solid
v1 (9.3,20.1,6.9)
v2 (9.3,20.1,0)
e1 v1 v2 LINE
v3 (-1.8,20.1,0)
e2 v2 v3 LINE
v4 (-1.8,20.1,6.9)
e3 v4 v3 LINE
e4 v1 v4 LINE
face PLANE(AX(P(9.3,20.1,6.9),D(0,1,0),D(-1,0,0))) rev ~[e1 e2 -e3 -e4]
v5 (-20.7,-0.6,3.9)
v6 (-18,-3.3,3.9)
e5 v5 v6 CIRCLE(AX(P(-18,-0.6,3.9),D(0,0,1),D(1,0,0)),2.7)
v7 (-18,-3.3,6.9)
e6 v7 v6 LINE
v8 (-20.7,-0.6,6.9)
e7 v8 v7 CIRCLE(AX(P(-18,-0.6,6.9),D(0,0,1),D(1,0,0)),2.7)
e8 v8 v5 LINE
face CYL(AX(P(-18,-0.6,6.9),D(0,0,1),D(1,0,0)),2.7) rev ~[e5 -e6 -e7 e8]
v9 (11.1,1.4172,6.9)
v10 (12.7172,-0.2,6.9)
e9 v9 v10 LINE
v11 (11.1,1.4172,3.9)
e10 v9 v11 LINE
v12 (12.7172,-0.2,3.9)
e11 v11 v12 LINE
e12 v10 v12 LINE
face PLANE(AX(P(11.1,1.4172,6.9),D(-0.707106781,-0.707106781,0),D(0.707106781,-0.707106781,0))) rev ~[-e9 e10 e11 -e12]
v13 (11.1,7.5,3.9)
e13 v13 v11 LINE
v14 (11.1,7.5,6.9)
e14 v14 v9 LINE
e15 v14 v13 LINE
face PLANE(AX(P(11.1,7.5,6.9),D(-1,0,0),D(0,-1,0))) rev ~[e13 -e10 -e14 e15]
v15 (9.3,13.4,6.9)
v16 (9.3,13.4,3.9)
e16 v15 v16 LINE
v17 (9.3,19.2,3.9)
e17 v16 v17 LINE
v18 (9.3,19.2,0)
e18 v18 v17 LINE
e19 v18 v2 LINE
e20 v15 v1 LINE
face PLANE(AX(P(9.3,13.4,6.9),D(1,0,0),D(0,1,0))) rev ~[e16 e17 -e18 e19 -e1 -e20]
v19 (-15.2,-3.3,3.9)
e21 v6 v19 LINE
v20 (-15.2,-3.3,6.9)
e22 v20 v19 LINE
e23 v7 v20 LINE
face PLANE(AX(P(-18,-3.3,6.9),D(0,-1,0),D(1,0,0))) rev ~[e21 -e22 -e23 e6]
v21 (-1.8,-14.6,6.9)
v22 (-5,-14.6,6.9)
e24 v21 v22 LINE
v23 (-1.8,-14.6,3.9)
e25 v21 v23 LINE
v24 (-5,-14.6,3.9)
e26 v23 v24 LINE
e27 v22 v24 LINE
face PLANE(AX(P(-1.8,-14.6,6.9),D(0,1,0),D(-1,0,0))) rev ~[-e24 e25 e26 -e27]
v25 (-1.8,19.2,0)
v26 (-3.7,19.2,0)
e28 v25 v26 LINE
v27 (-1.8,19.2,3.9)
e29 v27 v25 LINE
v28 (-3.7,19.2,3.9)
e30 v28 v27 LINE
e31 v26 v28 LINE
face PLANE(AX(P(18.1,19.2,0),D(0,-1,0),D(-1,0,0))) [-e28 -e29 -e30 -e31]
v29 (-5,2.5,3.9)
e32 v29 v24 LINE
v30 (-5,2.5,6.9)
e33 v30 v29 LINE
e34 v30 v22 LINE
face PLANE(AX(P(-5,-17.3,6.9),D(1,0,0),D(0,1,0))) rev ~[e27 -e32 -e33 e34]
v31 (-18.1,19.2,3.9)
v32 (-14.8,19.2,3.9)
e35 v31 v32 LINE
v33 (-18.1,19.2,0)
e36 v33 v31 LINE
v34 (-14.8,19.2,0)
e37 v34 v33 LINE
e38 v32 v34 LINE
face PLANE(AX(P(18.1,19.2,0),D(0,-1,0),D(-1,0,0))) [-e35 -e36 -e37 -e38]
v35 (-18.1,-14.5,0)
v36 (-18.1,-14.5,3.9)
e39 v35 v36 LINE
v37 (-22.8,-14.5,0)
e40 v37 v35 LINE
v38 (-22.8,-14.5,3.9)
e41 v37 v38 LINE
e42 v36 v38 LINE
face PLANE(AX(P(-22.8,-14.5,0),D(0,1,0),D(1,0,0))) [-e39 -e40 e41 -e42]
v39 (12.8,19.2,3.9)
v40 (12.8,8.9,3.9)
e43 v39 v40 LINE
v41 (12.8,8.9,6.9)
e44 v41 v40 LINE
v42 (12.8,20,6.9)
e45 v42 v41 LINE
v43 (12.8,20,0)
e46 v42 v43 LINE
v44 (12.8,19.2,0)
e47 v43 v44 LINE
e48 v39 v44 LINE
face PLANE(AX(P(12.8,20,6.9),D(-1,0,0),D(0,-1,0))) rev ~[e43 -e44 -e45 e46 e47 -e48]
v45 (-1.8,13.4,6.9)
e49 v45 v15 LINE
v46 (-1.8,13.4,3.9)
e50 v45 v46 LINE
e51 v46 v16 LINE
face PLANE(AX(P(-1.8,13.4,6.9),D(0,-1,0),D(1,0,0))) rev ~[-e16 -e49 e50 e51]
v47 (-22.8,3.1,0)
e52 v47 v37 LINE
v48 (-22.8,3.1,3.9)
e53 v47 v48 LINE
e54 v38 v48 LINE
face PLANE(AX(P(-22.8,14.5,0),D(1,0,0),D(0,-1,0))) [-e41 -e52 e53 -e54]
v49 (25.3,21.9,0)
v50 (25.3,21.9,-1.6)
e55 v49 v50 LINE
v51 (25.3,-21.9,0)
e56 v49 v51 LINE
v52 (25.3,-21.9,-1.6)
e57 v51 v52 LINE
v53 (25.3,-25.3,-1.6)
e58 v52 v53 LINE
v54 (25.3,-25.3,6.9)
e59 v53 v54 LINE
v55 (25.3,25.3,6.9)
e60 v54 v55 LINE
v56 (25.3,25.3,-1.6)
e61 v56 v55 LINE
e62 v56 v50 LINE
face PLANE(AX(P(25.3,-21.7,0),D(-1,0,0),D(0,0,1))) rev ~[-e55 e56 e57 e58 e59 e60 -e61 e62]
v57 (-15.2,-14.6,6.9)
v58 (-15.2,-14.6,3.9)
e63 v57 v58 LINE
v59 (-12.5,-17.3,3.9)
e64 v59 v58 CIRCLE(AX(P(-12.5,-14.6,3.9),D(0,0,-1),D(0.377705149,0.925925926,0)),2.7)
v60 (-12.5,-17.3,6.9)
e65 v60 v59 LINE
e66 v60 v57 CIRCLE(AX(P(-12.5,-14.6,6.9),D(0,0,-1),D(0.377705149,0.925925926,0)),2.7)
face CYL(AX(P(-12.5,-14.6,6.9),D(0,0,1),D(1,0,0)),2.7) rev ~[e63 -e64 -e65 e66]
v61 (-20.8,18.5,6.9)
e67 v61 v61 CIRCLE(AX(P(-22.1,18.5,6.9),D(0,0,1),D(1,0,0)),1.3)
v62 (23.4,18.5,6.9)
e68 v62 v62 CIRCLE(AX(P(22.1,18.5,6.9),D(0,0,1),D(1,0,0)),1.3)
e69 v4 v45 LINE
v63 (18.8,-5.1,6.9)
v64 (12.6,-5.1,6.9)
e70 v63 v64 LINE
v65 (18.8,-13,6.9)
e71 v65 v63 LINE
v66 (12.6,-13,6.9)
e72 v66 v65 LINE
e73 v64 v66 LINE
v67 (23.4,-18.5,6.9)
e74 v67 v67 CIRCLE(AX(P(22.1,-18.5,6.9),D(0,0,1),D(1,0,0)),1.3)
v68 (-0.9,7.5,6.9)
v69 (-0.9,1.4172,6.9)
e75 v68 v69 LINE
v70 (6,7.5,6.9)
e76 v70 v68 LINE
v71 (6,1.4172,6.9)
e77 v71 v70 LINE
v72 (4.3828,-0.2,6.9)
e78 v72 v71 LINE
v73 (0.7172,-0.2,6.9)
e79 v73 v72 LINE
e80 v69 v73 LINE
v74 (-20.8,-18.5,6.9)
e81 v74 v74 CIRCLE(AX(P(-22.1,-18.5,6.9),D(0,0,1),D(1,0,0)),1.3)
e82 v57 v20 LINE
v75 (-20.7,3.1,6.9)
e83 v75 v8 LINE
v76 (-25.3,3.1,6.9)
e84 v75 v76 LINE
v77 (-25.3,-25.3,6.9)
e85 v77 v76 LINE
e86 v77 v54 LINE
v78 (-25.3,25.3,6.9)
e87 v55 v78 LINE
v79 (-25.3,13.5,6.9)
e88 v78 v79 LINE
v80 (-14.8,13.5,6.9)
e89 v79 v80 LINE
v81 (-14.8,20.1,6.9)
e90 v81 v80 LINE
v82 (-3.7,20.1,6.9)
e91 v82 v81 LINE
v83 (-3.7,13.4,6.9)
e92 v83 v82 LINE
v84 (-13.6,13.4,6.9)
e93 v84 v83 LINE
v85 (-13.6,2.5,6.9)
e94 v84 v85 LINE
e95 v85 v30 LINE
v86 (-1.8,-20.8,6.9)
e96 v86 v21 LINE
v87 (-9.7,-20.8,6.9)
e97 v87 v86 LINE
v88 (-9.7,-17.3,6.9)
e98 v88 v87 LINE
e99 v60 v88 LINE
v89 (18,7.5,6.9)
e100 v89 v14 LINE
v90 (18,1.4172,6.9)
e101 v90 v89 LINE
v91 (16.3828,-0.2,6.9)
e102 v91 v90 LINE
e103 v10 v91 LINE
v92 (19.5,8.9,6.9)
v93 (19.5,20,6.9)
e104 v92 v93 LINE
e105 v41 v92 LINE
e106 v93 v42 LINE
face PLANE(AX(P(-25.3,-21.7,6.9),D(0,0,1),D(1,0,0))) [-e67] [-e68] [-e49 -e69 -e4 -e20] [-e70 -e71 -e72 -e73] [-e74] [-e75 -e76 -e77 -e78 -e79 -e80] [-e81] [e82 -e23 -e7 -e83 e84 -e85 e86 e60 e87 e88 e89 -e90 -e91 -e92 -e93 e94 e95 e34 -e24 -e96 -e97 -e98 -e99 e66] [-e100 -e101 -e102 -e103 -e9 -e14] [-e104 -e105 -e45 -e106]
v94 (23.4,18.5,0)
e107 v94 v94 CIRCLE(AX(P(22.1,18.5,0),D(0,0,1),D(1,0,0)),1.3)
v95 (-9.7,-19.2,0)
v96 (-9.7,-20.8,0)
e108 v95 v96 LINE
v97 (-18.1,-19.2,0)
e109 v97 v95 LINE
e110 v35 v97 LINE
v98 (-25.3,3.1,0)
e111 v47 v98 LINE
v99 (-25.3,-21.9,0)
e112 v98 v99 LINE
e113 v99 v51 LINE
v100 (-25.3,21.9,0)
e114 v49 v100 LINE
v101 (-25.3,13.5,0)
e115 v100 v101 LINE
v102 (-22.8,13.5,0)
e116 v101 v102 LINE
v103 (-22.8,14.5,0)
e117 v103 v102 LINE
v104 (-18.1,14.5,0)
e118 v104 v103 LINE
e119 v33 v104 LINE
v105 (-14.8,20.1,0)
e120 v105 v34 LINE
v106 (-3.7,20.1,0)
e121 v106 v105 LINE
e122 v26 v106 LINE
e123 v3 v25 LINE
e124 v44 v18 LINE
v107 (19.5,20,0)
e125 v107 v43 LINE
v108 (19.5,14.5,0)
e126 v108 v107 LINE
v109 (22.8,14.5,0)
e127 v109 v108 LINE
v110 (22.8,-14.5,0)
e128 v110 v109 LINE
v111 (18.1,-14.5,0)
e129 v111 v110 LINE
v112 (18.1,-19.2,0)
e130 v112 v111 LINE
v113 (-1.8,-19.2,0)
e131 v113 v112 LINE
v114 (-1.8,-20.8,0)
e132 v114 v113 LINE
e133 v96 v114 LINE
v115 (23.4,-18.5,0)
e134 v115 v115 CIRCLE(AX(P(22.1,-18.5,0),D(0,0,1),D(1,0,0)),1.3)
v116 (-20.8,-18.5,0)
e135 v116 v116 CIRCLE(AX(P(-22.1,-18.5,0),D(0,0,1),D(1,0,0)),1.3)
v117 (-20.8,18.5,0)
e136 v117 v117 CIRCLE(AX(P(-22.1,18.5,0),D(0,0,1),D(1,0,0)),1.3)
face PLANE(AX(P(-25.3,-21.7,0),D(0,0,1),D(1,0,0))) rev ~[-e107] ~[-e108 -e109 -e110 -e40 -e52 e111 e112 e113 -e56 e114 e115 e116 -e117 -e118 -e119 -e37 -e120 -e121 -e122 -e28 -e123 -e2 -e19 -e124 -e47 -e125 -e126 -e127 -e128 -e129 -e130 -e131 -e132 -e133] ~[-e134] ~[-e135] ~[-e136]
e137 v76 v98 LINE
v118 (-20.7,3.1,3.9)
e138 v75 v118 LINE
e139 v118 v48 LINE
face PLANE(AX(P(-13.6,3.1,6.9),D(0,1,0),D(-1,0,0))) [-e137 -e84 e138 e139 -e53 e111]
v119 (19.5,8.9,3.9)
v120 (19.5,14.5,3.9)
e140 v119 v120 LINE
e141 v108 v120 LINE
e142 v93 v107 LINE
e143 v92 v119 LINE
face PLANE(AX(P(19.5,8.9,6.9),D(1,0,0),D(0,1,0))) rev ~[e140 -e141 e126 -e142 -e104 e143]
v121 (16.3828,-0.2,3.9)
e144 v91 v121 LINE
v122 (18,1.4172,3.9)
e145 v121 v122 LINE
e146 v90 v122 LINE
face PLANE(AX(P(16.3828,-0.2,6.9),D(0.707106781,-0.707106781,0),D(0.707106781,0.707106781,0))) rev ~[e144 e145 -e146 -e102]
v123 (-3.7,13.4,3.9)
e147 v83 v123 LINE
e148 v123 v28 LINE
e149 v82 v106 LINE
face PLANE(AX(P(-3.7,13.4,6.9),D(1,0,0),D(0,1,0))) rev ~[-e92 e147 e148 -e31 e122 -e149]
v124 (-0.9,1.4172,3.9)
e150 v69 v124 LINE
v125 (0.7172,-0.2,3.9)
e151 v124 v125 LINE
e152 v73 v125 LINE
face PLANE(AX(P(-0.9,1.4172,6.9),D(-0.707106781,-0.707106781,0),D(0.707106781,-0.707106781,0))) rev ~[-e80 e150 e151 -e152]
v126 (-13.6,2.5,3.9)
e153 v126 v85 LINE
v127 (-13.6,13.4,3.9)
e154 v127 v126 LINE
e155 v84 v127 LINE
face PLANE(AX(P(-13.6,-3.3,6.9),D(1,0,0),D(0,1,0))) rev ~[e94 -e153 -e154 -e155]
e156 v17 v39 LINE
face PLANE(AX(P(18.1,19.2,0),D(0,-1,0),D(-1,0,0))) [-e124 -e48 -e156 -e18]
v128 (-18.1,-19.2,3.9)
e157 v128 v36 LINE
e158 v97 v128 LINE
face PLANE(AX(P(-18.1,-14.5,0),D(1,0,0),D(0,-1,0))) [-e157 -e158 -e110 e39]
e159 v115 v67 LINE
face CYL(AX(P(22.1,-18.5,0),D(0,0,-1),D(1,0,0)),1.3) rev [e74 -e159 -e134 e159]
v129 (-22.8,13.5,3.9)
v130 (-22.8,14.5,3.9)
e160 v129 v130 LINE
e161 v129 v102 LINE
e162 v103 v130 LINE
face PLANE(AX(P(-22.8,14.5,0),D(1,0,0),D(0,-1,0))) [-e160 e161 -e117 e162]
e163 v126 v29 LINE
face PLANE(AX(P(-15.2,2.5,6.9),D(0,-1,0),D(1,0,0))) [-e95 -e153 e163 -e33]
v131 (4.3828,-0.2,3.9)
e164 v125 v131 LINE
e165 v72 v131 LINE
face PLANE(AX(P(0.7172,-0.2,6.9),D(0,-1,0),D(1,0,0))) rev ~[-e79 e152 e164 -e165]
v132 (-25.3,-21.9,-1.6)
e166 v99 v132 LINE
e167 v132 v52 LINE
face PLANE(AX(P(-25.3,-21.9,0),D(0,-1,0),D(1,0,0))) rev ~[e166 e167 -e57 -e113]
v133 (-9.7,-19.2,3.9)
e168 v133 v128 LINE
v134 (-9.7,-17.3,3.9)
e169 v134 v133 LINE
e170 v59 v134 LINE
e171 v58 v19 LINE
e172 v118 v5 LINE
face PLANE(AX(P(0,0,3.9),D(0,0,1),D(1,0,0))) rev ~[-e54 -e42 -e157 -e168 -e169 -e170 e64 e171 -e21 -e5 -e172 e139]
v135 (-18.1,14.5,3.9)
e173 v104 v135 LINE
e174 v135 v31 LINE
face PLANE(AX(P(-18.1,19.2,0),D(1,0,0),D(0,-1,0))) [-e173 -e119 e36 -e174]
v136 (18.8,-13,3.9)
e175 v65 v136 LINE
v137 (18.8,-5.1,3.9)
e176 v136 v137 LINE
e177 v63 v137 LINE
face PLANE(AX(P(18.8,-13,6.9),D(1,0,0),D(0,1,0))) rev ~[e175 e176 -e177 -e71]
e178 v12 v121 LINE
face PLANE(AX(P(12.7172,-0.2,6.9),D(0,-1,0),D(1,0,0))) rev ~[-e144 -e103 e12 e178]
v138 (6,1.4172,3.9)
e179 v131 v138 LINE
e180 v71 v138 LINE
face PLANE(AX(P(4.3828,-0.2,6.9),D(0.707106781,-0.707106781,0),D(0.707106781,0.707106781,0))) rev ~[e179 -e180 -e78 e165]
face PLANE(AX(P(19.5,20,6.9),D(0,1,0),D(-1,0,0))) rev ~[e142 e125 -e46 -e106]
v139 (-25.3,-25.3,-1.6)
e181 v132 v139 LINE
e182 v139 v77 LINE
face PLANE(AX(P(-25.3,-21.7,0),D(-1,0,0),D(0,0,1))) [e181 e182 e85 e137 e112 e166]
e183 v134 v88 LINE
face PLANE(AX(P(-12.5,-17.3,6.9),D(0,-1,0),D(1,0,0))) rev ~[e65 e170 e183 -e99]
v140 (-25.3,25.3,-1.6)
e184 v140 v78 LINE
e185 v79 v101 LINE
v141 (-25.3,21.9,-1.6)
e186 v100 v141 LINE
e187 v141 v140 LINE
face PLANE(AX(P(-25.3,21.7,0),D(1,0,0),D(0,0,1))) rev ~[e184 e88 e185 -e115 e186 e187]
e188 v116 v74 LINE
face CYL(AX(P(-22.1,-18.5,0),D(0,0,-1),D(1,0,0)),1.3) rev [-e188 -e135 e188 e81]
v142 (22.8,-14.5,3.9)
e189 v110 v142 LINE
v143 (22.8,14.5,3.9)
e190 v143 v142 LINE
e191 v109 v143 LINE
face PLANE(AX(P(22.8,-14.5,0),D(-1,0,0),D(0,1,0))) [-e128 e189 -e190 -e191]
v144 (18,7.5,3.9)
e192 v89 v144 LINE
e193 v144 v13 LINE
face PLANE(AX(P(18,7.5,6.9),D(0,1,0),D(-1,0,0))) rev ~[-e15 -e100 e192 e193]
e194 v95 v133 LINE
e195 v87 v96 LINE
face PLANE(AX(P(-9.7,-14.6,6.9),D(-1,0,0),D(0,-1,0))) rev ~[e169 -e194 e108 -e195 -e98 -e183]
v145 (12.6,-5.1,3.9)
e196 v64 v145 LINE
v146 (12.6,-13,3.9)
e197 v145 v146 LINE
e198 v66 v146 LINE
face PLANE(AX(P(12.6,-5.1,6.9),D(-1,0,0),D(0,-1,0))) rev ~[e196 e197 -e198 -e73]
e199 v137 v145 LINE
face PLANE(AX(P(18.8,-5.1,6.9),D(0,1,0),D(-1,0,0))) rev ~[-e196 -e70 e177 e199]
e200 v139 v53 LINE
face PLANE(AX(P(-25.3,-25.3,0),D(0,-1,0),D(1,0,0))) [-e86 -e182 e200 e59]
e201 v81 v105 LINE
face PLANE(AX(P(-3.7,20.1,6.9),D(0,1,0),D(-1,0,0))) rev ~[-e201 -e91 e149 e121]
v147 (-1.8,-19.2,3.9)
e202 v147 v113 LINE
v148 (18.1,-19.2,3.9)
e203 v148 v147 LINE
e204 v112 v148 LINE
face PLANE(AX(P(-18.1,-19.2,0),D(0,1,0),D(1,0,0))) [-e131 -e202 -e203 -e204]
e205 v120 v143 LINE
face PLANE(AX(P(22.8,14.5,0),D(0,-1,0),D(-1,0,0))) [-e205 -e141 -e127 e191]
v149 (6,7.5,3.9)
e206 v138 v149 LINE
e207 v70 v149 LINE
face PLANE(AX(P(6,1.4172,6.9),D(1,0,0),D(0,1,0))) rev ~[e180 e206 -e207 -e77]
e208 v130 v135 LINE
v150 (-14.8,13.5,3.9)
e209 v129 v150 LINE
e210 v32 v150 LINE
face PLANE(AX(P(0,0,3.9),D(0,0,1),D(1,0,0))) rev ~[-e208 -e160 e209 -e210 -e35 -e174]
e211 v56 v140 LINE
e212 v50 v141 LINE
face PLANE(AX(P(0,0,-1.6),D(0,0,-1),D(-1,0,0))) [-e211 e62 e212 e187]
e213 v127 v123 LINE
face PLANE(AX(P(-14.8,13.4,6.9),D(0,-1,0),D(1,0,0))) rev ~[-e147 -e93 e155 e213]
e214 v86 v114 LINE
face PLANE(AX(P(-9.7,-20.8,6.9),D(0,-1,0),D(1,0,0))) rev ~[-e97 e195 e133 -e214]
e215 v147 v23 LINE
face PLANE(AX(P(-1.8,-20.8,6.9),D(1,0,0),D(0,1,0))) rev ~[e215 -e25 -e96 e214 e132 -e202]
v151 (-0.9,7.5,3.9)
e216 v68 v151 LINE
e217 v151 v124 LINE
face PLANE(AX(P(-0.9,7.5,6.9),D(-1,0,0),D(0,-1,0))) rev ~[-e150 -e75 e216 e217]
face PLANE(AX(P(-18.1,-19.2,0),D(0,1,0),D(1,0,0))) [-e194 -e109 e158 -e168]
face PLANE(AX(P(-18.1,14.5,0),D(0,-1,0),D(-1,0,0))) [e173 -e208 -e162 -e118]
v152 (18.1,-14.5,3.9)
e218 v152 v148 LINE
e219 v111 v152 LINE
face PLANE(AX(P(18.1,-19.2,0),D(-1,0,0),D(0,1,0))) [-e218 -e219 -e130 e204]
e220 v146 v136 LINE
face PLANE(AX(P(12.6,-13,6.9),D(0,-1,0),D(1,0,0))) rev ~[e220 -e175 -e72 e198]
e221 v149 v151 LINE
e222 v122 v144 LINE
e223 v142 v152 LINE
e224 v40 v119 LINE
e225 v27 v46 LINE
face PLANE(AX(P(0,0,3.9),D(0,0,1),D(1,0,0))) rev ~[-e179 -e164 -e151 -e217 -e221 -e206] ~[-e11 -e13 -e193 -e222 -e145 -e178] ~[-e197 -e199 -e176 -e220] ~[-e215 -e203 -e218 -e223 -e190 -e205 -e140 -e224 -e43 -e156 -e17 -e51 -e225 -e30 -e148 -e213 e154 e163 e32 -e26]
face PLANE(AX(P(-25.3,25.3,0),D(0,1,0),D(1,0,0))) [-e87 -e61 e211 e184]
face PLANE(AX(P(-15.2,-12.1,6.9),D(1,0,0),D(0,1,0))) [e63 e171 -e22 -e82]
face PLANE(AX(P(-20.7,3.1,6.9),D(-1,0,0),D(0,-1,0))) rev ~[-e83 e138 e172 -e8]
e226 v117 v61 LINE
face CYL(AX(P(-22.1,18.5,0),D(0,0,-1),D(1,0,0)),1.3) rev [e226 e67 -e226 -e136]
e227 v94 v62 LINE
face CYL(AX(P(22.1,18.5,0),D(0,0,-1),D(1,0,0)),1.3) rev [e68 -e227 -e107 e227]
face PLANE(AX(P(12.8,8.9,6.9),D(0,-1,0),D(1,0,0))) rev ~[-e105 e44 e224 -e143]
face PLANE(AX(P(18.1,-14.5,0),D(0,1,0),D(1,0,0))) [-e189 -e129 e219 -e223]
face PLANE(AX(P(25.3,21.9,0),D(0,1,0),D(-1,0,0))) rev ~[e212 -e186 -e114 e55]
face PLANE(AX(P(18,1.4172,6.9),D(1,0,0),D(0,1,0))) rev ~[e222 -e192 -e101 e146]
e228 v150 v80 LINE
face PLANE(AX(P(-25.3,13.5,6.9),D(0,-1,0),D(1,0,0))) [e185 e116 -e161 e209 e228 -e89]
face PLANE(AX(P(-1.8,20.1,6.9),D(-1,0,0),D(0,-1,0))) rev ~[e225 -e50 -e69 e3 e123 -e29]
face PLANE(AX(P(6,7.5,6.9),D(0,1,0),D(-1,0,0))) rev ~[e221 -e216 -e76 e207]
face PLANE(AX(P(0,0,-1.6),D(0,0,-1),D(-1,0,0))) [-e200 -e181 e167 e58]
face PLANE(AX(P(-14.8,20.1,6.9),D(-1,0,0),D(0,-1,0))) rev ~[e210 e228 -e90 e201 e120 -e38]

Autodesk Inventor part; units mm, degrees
ref_plane "YZ Plane" through (0, 0, 0) normal (1, 0, 0) x (0, 1, 0)
ref_plane "XZ Plane" through (0, 0, 0) normal (0, 1, 0) x (-1, 0, 0)
ref_plane "XY Plane" through (0, 0, 0) normal (0, 0, 1) x (1, 0, 0)
sketch "スケッチ1" plane through (0, 0, 0) normal (0, 0, 1) x (1, 0, 0)
  line L0 (-25.3, 21.7) -> (25.3, 21.7)
  line L1 (25.3, 21.7) -> (25.3, -21.7)
  line L2 (25.3, -21.7) -> (-25.3, -21.7)
  line L3 (-25.3, -21.7) -> (-25.3, 21.7)
  circle A0 centre (-22.1, 18.5) radius 1.3
  circle A1 centre (22.1, 18.5) radius 1.3
  circle A2 centre (22.1, -18.5) radius 1.3
  circle A3 centre (-22.1, -18.5) radius 1.3
  line L4 (-18.1, 19.2) -> (-18.1, 14.5)
  line L5 (-18.1, 14.5) -> (-22.8, 14.5)
  line L6 (-22.8, 14.5) -> (-22.8, -14.5)
  line L7 (-22.8, -14.5) -> (-18.1, -14.5)
  line L8 (-18.1, -14.5) -> (-18.1, -19.2)
  line L9 (-18.1, -19.2) -> (18.1, -19.2)
  line L10 (18.1, -19.2) -> (18.1, -14.5)
  line L11 (18.1, -14.5) -> (22.8, -14.5)
  line L12 (22.8, -14.5) -> (22.8, 14.5)
  line L13 (22.8, 14.5) -> (18.1, 14.5)
  line L14 (18.1, 14.5) -> (18.1, 19.2)
  line L15 (18.1, 19.2) -> (-18.1, 19.2)
  point P0 (0, 0)
  point P1 (0, 21.7)
  point P2 (-25.3, 0)
  dimension "d0" = 50.6
  dimension "d1" = 43.4
  dimension "d2" = 2.6
  dimension "d3" = 44.2
  dimension "d4" = 37
  dimension "d5" = 22.1
  dimension "d6" = 18.5
  dimension "d7" = 2.5
  dimension "d8" = 2.5
  dimension "d9" = 2.5
  dimension "d10" = 2.5
  dimension "d11" = 4
  dimension "d12" = 4
  dimension "d13" = 4
  dimension "d14" = 4
  dimension "d15" = 4
extrude "押し出し1" add sketch "スケッチ1" along normal blind 6.9
sketch "スケッチ4" plane through (0, 0, 6.9) normal (0, 0, 1) x (1, 0, 0)
  line L0 (-18.1, 14.5) -> (-18.1, 19.2) projected
  line L1 (-18.1, 19.2) -> (18.1, 19.2) projected
  line L2 (-22.8, 14.5) -> (-18.1, 14.5) projected
  line L3 (-22.8, -14.5) -> (-22.8, 14.5) projected
  line L4 (-18.1, -14.5) -> (-22.8, -14.5) projected
  line L5 (-18.1, -19.2) -> (-18.1, -14.5) projected
  line L6 (18.1, -19.2) -> (-18.1, -19.2) projected
  line L7 (18.1, -14.5) -> (18.1, -19.2) projected
  line L8 (22.8, -14.5) -> (18.1, -14.5) projected
  line L9 (22.8, 14.5) -> (22.8, -14.5) projected
  line L10 (18.1, 14.5) -> (22.8, 14.5) projected
  line L11 (18.1, 19.2) -> (18.1, 14.5) projected
  point P0 (0, 0)
extrude "押し出し4" add sketch "スケッチ4" against normal blind 3
sketch "スケッチ3" plane through (0, 0, 6.9) normal (0, 0, 1) x (1, 0, 0)
  line L0 (-14.6, 19.9) -> (-3.9, 19.9) construction
  line L1 (-3.9, 19.9) -> (-3.9, 13.6) construction
  line L2 (-3.9, 13.6) -> (-14.6, 13.6) construction
  line L3 (-14.6, 13.6) -> (-14.6, 19.9) construction
  line L4 (-1.6, 19.9) -> (9.1, 19.9) construction
  line L5 (9.1, 19.9) -> (9.1, 13.6) construction
  line L6 (9.1, 13.6) -> (-1.6, 13.6) construction
  line L7 (-1.6, 13.6) -> (-1.6, 19.9) construction
  line L8 (13, 19.8) -> (19.3, 19.8) construction
  line L9 (19.3, 19.8) -> (19.3, 9.1) construction
  line L10 (19.3, 9.1) -> (13, 9.1) construction
  line L11 (13, 9.1) -> (13, 19.8) construction
  line L12 (25.3, 21.7) -> (-25.3, 21.7) construction
  line L13 (25.3, -21.7) -> (25.3, 21.7) construction
  line L14 (-14.8, 13.4) -> (-3.7, 13.4)
  line L15 (-3.7, 13.4) -> (-3.7, 20.1)
  line L16 (-3.7, 20.1) -> (-14.8, 20.1)
  line L17 (-14.8, 20.1) -> (-14.8, 13.4)
  line L18 (-1.8, 13.4) -> (9.3, 13.4)
  line L19 (9.3, 13.4) -> (9.3, 20.1)
  line L20 (9.3, 20.1) -> (-1.8, 20.1)
  line L21 (-1.8, 20.1) -> (-1.8, 13.4)
  line L22 (12.8, 8.9) -> (19.5, 8.9)
  line L23 (19.5, 8.9) -> (19.5, 20)
  line L24 (19.5, 20) -> (12.8, 20)
  line L25 (12.8, 20) -> (12.8, 8.9)
  point P0 (0, 0)
  dimension "d20" = 6.3
  dimension "d21" = 10.7
  dimension "d23" = 6
  dimension "d24" = 1.8
  dimension "d25" = 26.9
  dimension "d26" = 39.9
  dimension "d27" = 12.6
  dimension "d28" = 0.2
  dimension "d29" = 0.2
  dimension "d30" = 0.2
extrude "押し出し3" cut sketch "スケッチ3" along normal through all both and the other way through all
sketch "スケッチ5" plane through (0, 0, 6.9) normal (0, 0, 1) x (1, 0, 0)
  line L0 (-21.5, 13.3) -> (-13.8, 13.3) construction
  line L1 (-13.8, 13.3) -> (-13.8, 3.3) construction
  line L2 (-13.8, 3.3) -> (-21.5, 3.3) construction
  line L3 (-21.5, 3.3) -> (-21.5, 13.3) construction
  line L4 (25.3, 21.7) -> (-25.3, 21.7) construction
  line L5 (25.3, -21.7) -> (25.3, 21.7) construction
  line L6 (-25.3, 13.5) -> (-13.6, 13.5)
  line L7 (-13.6, 13.5) -> (-13.6, 3.1)
  line L8 (-13.6, 3.1) -> (-25.3, 3.1)
  line L9 (-25.3, 3.1) -> (-25.3, 13.5)
  line L10 (-25.3, 21.7) -> (-25.3, -21.7) construction
  point P0 (0, 0)
  dimension "d35" = 46.8
  dimension "d36" = 7.7
  dimension "d37" = 18.4
  dimension "d38" = 10
  dimension "d39" = 0.2
  dimension "d40" = 0.2
  dimension "d41" = 0.2
extrude "押し出し5" cut sketch "スケッチ5" against normal through all
sketch "スケッチ6" plane through (0, 0, 6.9) normal (0, 0, 1) x (1, 0, 0)
  line L0 (-5.2, 2.3) -> (-15, 2.3) construction
  line L1 (-15, 2.3) -> (-15, -11.9) construction
  line L2 (-15, -11.9) -> (-5.2, -11.9) construction
  line L3 (-5.2, -11.9) -> (-5.2, 2.3) construction
  line L4 (25.3, 21.7) -> (-25.3, 21.7) construction
  line L5 (25.3, -21.7) -> (25.3, 21.7) construction
  line L6 (-15.2, 2.5) -> (-5, 2.5)
  line L7 (-5, 2.5) -> (-5, -12.1)
  line L8 (-5, -12.1) -> (-15.2, -12.1)
  line L9 (-15.2, -12.1) -> (-15.2, 2.5)
  point P0 (0, 0)
  dimension "d44" = 14.2
  dimension "d45" = 9.8
  dimension "d46" = 40.3
  dimension "d47" = 33.6
  dimension "d48" = 0.2
extrude "押し出し6" cut sketch "スケッチ6" against normal through all
sketch "スケッチ7" plane through (0, 0, 6.9) normal (0, 0, 1) x (1, 0, 0)
  line L0 (25.3, 21.7) -> (-25.3, 21.7) construction
  line L1 (25.3, -21.7) -> (25.3, 21.7) construction
  line L2 (12.8, -5.3) -> (18.6, -5.3) construction
  line L3 (18.6, -5.3) -> (18.6, -12.8) construction
  line L4 (18.6, -12.8) -> (12.8, -12.8) construction
  line L5 (12.8, -12.8) -> (12.8, -5.3) construction
  line L6 (-9.5, -14.8) -> (-2, -14.8) construction
  line L7 (-2, -14.8) -> (-2, -20.6) construction
  line L8 (-2, -20.6) -> (-9.5, -20.6) construction
  line L9 (-9.5, -20.6) -> (-9.5, -14.8) construction
  line L10 (12.6, -13) -> (18.8, -13)
  line L11 (18.8, -13) -> (18.8, -5.1)
  line L12 (18.8, -5.1) -> (12.6, -5.1)
  line L13 (12.6, -5.1) -> (12.6, -13)
  line L14 (-1.8, -20.8) -> (-1.8, -14.6)
  line L15 (-1.8, -14.6) -> (-9.7, -14.6)
  line L16 (-9.7, -14.6) -> (-9.7, -20.8)
  line L17 (-9.7, -20.8) -> (-1.8, -20.8)
  point P0 (0, 0)
  dimension "d51" = 7.5
  dimension "d52" = 5.8
  dimension "d53" = 12.5
  dimension "d54" = 34.5
  dimension "d55" = 42.3
  dimension "d56" = 34.8
  dimension "d57" = 0.2
  dimension "d58" = 0.2
extrude "押し出し7" cut sketch "スケッチ7" against normal through all
sketch "スケッチ8" plane through (0, 0, 6.9) normal (0, 0, 1) x (1, 0, 0)
  circle A0 centre (-18, -0.6) radius 2.5 construction
  circle A1 centre (-12.5, -14.6) radius 2.5 construction
  line L0 (25.3, 21.7) -> (-25.3, 21.7) construction
  line L1 (25.3, -21.7) -> (25.3, 21.7) construction
  circle A2 centre (-18, -0.6) radius 2.7
  circle A3 centre (-12.5, -14.6) radius 2.7
  point P0 (0, 0)
  dimension "d61" = 5
  dimension "d62" = 22.3
  dimension "d63" = 36.3
  dimension "d64" = 43.3
  dimension "d65" = 37.8
  dimension "d66" = 0.2
  dimension "d67" = 0.2
extrude "押し出し8" cut sketch "スケッチ8" against normal through all
sketch "スケッチ9" plane through (0, 0, 6.9) normal (0, 0, 1) x (1, 0, 0)
  line L0 (11.3, 1.5) -> (11.3, 7.3) construction
  line L1 (11.3, 7.3) -> (17.8, 7.3) construction
  line L2 (17.8, 7.3) -> (17.8, 1.5) construction
  line L3 (17.8, 1.5) -> (16.3, 0) construction
  line L4 (16.3, 0) -> (12.8, 0) construction
  line L5 (12.8, 0) -> (11.3, 1.5) construction
  line L6 (-0.7, 1.5) -> (-0.7, 7.3) construction
  line L7 (-0.7, 7.3) -> (5.8, 7.3) construction
  line L8 (5.8, 7.3) -> (5.8, 1.5) construction
  line L9 (5.8, 1.5) -> (4.3, 0) construction
  line L10 (4.3, 0) -> (0.8, 0) construction
  line L11 (0.8, 0) -> (-0.7, 1.5) construction
  line L12 (25.3, -21.7) -> (25.3, 21.7) construction
  line L13 (25.3, 21.7) -> (-25.3, 21.7) construction
  line L14 (6, 7.5) -> (-0.9, 7.5)
  line L15 (-0.9, 7.5) -> (-0.9, 1.4172)
  line L16 (-0.9, 1.4172) -> (0.7172, -0.2)
  line L17 (0.7172, -0.2) -> (4.3828, -0.2)
  line L18 (4.3828, -0.2) -> (6, 1.4172)
  line L19 (6, 1.4172) -> (6, 7.5)
  line L20 (18, 7.5) -> (11.1, 7.5)
  line L21 (11.1, 7.5) -> (11.1, 1.4172)
  line L22 (11.1, 1.4172) -> (12.7172, -0.2)
  line L23 (12.7172, -0.2) -> (16.3828, -0.2)
  line L24 (16.3828, -0.2) -> (18, 1.4172)
  line L25 (18, 1.4172) -> (18, 7.5)
  point P0 (0, 0)
  dimension "d70" = 135
  dimension "d71" = 135
  dimension "d72" = 135
  dimension "d73" = 135
  dimension "d74" = 7.3
  dimension "d75" = 6.5
  dimension "d76" = 1.5
  dimension "d77" = 26
  dimension "d78" = 14
  dimension "d79" = 21.7
  dimension "d80" = 0.2
  dimension "d81" = 0.2
extrude "押し出し9" cut sketch "スケッチ9" against normal through all
sketch "スケッチ10" plane through (0, 0, 6.9) normal (0, 0, 1) x (1, 0, 0)
  arc A0 (-13.5198, -12.1) -> (-11.4802, -12.1) centre (-12.5, -14.6) ccw construction
  circle A1 centre (-18, -0.6) radius 2.7 construction
  line L0 (-13.6, 13.4) -> (-13.6, 3.1) construction
  line L1 (-15.2, -12.1) -> (-15.2, 2.5) construction
  line L2 (-9.7, -14.6) -> (-1.8, -14.6) construction
  line L3 (-12.5, -14.6) -> (-15.2, -14.6) construction
  line L4 (-5, -14.6881) -> (-5, -8.3419)
  line L5 (-5, -8.3419) -> (-15.2, -8.3419)
  line L6 (-15.2, -8.3419) -> (-15.2, -14.6)
  line L7 (-15.2, -14.6) -> (-12.5, -14.6)
  line L8 (-12.5, -14.6) -> (-12.5, -17.3)
  line L9 (-12.5, -17.3) -> (-5, -17.3)
  line L10 (-5, -17.3) -> (-5, -14.6881)
  line L11 (-9.7, -20.8) -> (-9.7, -14.6) construction
  line L12 (-20.7, 3.1) -> (-20.7, -0.6)
  line L13 (-20.7, -0.6) -> (-18, -0.6)
  line L14 (-18, -0.6) -> (-18, -3.3)
  line L15 (-18, -3.3) -> (-13.6, -3.3)
  line L16 (-13.6, -3.3) -> (-13.6, 3.1)
  line L17 (-13.6, 3.1) -> (-20.7, 3.1)
  point P0 (0, 0)
  point P1 (-5, -12.1)
extrude "押し出し10" cut sketch "スケッチ10" against normal through all
sketch "スケッチ11" plane through (-25.3, 21.7, 0) normal (0, 1, 0) x (1, 0, 0)
  line L0 (50.6, -6.9) -> (0, -6.9) projected
  line L1 (50.6, 0) -> (50.6, -6.9) projected
  line L2 (50.6, 0) -> (0, 0) projected
  line L3 (0, 0) -> (0, -6.9) projected
  point P0 (25.3, 0)
extrude "押し出し11" add sketch "スケッチ11" along normal blind 3.6
sketch "スケッチ12" plane through (-25.3, -21.7, 0) normal (0, -1, 0) x (1, 0, 0)
  line L0 (0, 0) -> (0, 6.9) projected
  line L1 (0, 0) -> (50.6, 0) projected
  line L2 (0, 6.9) -> (50.6, 6.9) projected
  line L3 (50.6, 0) -> (50.6, 6.9) projected
  point P0 (25.3, 0)
extrude "押し出し12" add sketch "スケッチ12" along normal blind 3.6
sketch "スケッチ13" plane through (0, 0, 0) normal (0, 0, -1) x (-1, 0, 0)
  line L0 (-25.3, 25.3) -> (25.3, 25.3) projected
  line L1 (25.3, -25.3) -> (-25.3, -25.3) projected
  line L2 (-25.3, 21.9) -> (25.3, 21.9)
  line L3 (25.3, -21.9) -> (-25.3, -21.9)
  line L4 (25.3, 21.9) -> (25.3, 25.3)
  line L5 (-25.3, 25.3) -> (-25.3, 21.9)
  line L6 (25.3, -21.9) -> (25.3, -25.3)
  line L7 (-25.3, -21.9) -> (-25.3, -25.3)
  point P0 (0, 0)
  dimension "d90" = 3.4
  dimension "d91" = 3.4
extrude "押し出し13" add sketch "スケッチ13" along normal blind 1.6
equation "\"d5\" = 0.5 * d3"
equation "\"d6\" = 0.5 * d4"
equation "\"d8\" = d7"
equation "\"d9\" = d7"
equation "\"d10\" = d7"
equation "\"d12\" = d11"
equation "\"d13\" = d11"
equation "\"d14\" = d11"
equation "\"d15\" = d11"
equation "\"d40\" = d39"
equation "\"d41\" = d39"
equation "\"d71\" = d70"
equation "\"d73\" = d72"
equation "\"d81\" = d80"
properties part number "fan_controller_case_top"
